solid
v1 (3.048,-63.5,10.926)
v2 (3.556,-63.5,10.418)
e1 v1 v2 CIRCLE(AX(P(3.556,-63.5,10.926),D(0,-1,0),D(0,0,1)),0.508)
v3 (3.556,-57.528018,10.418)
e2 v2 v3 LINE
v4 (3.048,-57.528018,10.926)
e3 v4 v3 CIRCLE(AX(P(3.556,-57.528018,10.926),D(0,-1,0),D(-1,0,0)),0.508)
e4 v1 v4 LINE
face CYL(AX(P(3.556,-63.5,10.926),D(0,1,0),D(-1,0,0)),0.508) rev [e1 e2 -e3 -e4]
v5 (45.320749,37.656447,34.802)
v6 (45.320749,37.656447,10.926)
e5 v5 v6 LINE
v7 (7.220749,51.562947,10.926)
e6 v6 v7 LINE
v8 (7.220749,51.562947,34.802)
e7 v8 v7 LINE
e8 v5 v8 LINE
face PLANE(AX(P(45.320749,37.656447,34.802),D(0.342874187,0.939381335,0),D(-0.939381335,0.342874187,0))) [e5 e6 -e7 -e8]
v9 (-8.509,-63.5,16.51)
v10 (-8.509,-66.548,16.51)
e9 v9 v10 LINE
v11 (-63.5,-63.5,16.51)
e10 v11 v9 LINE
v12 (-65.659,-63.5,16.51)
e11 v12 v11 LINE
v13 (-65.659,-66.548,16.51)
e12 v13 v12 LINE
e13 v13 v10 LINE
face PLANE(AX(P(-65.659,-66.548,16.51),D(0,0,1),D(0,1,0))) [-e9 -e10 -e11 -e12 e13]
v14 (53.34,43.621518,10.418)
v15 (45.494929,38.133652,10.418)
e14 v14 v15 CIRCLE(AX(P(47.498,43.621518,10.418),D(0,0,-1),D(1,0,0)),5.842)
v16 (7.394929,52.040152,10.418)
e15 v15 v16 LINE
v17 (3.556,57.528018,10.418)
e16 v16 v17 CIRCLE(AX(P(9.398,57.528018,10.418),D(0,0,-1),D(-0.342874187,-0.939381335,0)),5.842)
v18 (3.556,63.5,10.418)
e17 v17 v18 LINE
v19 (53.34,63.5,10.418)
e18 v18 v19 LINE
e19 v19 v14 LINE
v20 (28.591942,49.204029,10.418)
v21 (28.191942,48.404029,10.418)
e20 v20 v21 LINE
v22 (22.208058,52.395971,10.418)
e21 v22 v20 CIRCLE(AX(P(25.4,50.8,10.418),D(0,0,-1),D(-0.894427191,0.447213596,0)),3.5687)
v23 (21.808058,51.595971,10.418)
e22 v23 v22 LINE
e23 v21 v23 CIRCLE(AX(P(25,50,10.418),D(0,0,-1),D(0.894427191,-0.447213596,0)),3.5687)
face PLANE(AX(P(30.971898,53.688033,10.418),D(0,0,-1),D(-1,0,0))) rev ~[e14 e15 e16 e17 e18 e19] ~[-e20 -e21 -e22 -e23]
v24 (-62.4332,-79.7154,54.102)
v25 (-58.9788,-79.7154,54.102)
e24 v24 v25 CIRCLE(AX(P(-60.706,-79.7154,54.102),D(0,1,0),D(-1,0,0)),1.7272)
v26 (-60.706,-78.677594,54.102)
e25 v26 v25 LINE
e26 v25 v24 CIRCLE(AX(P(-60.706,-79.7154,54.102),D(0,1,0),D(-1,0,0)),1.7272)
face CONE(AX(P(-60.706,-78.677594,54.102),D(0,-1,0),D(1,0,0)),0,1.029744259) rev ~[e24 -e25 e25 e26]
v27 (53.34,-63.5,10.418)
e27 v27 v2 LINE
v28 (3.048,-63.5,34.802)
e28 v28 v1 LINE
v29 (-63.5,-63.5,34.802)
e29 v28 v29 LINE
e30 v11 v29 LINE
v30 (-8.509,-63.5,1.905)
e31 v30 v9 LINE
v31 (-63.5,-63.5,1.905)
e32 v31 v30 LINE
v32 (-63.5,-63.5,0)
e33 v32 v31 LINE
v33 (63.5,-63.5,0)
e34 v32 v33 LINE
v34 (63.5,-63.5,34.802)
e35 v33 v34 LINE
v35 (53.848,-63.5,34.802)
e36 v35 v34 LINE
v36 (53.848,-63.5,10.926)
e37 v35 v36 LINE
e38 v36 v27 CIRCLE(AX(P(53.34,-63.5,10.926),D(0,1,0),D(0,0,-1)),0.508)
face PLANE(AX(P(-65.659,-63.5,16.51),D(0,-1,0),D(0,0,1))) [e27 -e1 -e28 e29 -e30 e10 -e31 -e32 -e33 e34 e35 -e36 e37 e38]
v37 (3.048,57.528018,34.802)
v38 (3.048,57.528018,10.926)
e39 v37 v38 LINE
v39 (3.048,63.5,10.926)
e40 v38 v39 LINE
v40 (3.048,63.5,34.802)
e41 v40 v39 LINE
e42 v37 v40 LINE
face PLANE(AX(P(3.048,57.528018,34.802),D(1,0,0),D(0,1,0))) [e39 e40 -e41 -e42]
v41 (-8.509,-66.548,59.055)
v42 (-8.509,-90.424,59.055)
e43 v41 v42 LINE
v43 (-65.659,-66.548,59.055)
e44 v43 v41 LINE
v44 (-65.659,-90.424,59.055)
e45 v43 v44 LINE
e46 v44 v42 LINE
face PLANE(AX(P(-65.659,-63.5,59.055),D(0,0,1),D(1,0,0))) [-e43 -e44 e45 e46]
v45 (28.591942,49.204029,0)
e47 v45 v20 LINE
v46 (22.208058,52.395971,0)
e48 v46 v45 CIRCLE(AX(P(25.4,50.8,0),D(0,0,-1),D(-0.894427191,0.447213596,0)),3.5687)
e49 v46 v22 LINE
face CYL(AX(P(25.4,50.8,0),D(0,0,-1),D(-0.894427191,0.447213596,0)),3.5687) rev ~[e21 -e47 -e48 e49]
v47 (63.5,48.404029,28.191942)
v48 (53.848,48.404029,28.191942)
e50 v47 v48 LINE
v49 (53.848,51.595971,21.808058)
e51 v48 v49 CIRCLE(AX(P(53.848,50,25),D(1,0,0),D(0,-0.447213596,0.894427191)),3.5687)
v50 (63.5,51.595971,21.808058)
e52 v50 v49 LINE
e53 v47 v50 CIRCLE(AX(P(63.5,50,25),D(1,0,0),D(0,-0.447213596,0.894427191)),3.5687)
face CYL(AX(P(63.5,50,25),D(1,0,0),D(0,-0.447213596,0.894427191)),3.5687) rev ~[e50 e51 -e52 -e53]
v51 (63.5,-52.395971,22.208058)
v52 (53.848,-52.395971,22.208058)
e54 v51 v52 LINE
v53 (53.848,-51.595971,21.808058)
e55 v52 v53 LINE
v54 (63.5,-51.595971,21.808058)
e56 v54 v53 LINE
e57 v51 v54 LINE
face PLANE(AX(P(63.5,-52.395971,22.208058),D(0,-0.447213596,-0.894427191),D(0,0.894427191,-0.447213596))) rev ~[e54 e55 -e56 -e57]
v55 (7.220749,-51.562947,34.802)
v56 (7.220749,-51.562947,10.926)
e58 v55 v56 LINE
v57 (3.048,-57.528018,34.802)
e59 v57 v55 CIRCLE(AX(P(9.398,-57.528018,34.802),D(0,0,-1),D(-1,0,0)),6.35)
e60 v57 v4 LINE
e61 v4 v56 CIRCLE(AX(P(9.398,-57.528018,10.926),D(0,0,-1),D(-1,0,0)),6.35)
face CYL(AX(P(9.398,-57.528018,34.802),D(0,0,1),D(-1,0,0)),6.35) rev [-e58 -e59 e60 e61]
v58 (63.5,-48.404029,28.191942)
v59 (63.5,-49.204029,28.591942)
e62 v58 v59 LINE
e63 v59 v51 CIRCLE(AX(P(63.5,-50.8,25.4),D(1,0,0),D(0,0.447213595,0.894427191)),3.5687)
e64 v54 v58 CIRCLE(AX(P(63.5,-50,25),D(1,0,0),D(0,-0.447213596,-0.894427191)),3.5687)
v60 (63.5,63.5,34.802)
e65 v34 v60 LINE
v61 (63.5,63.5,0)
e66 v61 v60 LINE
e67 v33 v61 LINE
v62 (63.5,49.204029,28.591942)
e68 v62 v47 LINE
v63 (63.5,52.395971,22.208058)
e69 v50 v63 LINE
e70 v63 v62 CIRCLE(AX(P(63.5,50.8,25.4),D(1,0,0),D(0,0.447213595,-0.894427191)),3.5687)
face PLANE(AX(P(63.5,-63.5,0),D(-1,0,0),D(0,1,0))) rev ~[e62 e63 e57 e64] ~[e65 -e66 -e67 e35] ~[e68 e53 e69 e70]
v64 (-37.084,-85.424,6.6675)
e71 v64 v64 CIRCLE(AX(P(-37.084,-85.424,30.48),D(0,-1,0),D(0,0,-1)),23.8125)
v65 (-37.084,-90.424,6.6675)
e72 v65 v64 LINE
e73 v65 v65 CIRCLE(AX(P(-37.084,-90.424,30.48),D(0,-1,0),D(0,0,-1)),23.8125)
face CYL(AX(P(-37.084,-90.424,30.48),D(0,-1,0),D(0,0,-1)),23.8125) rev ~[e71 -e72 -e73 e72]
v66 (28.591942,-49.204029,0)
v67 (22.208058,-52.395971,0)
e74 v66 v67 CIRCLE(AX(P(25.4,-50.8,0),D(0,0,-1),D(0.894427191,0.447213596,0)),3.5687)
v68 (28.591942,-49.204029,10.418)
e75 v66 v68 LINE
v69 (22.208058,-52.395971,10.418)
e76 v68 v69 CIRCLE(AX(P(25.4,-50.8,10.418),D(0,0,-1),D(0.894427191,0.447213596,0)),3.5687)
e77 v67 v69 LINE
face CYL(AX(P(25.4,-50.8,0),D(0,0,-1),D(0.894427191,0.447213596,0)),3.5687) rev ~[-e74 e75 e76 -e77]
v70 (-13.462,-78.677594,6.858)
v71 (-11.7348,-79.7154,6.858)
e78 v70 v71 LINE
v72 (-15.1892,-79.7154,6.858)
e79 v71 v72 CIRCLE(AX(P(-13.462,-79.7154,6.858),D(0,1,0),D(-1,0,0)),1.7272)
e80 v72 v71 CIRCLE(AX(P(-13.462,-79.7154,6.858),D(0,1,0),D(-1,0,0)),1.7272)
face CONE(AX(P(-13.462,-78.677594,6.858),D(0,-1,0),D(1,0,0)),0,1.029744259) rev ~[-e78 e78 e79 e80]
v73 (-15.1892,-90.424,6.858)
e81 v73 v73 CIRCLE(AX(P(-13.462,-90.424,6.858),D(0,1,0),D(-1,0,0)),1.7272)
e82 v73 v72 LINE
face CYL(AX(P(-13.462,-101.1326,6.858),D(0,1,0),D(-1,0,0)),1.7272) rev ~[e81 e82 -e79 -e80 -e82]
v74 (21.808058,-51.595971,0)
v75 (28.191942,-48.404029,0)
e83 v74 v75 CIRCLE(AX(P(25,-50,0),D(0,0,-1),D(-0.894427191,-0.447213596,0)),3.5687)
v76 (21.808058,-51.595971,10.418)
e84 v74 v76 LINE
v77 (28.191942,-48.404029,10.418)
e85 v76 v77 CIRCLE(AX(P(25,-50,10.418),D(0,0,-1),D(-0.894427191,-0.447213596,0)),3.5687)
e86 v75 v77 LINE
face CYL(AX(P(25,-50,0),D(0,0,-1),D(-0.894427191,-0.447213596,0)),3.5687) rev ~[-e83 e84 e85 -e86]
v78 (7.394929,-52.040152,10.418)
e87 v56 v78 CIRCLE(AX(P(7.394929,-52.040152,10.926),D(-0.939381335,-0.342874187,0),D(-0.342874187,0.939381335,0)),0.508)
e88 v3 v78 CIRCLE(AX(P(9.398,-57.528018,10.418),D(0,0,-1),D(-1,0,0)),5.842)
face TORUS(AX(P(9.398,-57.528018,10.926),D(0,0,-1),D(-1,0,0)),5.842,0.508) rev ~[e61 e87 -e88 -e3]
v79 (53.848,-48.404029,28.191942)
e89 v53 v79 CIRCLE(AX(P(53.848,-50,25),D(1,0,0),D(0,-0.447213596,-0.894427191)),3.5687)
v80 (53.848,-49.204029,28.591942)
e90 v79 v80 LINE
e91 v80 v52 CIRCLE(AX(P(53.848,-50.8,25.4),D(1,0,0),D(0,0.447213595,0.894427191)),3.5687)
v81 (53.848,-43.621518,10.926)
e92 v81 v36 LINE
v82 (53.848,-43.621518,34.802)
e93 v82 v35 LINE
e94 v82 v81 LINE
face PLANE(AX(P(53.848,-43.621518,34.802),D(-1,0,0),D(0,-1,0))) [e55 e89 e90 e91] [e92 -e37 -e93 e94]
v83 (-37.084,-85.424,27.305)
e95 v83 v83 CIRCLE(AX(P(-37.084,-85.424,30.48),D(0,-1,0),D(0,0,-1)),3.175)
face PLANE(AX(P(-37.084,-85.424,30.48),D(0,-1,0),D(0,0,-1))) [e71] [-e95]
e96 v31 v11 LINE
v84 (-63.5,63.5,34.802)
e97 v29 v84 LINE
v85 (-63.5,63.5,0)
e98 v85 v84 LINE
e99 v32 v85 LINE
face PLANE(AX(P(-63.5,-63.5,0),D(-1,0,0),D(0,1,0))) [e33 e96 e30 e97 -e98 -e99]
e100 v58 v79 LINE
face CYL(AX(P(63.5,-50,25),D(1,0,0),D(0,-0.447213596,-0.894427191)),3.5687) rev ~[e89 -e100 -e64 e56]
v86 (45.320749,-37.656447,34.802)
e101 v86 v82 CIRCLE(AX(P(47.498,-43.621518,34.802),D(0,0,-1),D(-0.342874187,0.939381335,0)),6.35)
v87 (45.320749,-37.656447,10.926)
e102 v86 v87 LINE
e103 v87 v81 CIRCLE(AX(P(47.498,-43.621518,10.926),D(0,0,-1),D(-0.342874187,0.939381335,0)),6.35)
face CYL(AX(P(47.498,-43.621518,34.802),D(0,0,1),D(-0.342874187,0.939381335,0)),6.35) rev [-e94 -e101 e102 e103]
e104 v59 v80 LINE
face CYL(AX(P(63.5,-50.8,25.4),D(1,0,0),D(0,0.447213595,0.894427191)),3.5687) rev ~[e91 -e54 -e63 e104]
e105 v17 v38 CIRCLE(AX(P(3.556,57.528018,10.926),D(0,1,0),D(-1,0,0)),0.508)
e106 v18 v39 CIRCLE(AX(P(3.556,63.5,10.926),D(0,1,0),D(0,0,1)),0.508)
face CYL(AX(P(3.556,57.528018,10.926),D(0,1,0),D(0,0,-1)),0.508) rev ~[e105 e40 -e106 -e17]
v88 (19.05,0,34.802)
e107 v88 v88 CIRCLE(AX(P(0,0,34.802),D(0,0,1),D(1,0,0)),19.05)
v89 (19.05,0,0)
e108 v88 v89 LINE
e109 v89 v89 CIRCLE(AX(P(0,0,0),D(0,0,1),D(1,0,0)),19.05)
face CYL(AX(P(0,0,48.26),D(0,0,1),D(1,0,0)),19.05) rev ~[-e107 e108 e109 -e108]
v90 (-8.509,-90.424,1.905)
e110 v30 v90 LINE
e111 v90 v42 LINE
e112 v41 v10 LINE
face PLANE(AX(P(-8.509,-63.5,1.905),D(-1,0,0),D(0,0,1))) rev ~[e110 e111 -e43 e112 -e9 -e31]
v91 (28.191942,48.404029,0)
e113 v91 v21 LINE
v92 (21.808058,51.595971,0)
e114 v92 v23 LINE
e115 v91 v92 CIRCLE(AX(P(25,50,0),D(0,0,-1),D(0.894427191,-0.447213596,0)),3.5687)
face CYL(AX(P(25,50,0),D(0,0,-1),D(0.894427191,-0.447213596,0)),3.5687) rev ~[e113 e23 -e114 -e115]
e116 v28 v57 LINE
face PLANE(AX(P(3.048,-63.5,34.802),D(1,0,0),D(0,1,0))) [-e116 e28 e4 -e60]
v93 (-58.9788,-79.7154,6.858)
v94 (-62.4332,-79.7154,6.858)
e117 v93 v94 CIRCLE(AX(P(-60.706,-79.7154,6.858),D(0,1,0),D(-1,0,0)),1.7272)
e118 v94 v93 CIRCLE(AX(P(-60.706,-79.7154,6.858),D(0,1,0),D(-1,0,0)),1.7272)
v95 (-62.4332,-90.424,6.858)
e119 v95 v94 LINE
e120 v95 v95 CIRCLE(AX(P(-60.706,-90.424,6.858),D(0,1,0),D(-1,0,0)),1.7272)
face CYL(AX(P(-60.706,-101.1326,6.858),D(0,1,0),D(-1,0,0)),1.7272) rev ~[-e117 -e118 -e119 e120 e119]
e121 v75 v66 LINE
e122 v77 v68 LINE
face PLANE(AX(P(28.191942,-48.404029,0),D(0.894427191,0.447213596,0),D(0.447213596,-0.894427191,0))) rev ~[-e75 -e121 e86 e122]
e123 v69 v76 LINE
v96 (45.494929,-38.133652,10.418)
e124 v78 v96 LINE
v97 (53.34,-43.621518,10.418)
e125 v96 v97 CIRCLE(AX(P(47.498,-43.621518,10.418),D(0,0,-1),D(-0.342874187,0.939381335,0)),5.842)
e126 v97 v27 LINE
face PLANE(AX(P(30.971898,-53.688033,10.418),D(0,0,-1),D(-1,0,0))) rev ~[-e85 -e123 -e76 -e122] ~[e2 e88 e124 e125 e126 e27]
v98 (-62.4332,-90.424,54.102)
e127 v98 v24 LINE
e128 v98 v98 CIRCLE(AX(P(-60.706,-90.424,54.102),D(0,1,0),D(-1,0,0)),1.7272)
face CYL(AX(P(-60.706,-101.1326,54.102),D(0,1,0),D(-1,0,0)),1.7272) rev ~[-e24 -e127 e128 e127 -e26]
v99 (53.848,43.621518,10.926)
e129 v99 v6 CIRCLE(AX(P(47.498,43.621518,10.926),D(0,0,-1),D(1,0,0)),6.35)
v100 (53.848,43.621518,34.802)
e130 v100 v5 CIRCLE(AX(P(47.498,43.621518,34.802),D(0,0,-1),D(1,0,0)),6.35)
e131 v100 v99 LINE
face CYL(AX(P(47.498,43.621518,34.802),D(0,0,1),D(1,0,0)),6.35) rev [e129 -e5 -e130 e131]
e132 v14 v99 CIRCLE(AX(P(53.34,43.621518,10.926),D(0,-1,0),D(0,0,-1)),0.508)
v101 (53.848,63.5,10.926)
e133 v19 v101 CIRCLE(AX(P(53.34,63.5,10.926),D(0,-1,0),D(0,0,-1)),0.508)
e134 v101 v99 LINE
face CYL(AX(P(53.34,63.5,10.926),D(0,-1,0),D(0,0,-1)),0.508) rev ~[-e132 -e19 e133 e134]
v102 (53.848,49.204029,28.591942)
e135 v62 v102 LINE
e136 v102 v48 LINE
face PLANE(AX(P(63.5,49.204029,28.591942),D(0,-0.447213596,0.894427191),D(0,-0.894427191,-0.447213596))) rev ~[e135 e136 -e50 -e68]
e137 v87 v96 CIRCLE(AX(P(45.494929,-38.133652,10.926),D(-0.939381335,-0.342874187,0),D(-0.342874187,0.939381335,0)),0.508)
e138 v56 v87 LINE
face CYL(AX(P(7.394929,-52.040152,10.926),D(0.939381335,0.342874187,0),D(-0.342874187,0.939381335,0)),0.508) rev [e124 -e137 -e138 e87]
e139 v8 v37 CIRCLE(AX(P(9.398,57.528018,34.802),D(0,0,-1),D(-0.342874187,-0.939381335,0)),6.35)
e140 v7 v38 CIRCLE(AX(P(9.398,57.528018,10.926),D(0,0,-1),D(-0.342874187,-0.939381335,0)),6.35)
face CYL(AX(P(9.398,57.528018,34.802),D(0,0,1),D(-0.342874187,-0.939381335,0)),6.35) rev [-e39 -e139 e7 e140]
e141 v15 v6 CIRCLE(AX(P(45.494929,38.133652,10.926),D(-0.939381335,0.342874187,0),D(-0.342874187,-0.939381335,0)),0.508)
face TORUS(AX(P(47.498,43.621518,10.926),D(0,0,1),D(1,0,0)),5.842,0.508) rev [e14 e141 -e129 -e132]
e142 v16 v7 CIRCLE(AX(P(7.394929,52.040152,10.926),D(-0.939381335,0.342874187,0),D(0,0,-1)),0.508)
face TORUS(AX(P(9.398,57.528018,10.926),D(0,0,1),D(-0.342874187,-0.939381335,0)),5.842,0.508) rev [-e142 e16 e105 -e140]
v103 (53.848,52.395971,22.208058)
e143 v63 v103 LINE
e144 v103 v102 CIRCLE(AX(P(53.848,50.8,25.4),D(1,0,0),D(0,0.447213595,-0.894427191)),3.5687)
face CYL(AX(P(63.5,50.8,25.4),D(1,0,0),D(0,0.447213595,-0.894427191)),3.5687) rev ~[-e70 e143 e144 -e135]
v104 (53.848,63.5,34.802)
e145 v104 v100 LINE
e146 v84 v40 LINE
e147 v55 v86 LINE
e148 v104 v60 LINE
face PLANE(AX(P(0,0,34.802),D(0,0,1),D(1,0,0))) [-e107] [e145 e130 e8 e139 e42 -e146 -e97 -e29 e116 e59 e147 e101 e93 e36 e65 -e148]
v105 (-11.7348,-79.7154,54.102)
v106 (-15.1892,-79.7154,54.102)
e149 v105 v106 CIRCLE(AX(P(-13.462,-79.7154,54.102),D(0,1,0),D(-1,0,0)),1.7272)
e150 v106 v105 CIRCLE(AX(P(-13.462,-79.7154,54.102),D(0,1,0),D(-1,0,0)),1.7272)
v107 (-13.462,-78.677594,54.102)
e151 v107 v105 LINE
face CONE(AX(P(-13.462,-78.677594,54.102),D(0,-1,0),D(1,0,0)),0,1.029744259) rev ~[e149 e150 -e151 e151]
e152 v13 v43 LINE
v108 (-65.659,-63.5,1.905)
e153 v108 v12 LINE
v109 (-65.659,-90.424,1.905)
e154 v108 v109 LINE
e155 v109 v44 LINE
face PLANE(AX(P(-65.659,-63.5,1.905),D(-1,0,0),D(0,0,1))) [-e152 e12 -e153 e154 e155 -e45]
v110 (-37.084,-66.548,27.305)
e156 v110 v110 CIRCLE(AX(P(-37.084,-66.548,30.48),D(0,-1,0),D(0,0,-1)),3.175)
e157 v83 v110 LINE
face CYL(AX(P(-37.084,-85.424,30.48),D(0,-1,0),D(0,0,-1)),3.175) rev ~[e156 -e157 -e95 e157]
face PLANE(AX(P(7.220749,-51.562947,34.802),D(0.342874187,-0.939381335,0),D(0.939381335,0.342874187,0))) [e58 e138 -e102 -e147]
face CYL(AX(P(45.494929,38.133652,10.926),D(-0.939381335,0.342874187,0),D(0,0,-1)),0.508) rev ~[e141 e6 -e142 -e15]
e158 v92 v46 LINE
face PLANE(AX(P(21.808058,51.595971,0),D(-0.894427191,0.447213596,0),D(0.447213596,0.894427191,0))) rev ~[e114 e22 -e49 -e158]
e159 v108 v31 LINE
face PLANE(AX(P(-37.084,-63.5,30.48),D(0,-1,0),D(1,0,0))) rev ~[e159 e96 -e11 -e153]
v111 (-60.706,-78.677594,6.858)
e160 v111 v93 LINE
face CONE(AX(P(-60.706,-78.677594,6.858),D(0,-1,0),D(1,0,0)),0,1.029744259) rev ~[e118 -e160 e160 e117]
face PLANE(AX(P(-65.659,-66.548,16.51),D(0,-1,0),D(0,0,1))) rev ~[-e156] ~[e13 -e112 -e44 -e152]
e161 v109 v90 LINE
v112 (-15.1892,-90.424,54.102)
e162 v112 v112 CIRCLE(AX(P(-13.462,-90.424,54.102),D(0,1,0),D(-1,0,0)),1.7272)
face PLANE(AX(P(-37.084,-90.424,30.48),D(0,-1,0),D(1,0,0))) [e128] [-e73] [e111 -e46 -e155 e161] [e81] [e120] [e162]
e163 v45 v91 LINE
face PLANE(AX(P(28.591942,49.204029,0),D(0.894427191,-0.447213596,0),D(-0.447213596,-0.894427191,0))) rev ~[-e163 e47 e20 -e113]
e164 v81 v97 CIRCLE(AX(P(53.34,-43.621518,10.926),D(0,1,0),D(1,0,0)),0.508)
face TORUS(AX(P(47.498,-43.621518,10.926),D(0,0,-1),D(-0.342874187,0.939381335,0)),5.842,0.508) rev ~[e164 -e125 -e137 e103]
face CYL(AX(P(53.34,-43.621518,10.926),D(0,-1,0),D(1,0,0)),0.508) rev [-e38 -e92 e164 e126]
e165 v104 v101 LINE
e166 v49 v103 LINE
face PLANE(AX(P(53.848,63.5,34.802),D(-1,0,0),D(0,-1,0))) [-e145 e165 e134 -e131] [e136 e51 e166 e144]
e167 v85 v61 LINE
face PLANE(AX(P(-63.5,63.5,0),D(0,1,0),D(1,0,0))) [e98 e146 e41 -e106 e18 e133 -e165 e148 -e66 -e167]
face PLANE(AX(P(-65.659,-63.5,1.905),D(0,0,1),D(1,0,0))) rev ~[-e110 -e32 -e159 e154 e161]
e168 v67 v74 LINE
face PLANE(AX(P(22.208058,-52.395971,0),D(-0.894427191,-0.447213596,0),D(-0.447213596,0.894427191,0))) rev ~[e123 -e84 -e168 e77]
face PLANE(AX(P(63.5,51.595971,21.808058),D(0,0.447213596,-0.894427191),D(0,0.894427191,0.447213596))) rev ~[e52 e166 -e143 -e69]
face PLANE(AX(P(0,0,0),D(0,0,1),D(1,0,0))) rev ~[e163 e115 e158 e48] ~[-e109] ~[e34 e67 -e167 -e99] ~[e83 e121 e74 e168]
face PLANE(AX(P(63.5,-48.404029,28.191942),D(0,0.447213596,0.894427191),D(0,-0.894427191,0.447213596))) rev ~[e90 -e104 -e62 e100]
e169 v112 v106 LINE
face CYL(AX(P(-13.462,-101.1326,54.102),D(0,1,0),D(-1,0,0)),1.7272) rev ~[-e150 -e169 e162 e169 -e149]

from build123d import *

# Parameters (mm, degrees)
SKETCH2_W                        = 127
SKETCH2_H                        = 127
HOUSING_DEPTH                    = 39.5
SKETCH4_OUTSIDE_W                = 165.78
SKETCH4_OUTSIDE_H                = 165.78
SKETCH4_OUTSIDE_R                = 45.974
CUT_EXTRUDE2_DEPTH               = 4.698
MOUNTING_POCKETS_DEPTH           = 24.384
ENG_METRIC_SLOT_VERTICAL_REACH   = 160.723
ENG_METRIC_SLOT_HORIZONTAL_DEPTH = 199.381065075
FILLET3_R                        = 0.508
SKETCH213_W                      = 57.15
SKETCH213_H                      = 57.15
EXTRUDE1_DEPTH                   = 26.924
SKETCH214_R                      = 23.8125
CUT_EXTRUDE3_DEPTH               = 5
SKETCH215_R                      = 3.175
CUT_EXTRUDE4_DEPTH               = 21.924
CUT_EXTRUDE5_REACH               = 170.363
SKETCH216_W                      = 42.545
SKETCH216_H                      = 3.048
F_8_32_TAPPED_HOLE1_D            = 3.4544
F_8_32_TAPPED_HOLE1_DEPTH        = 10.7086
F_8_32_TAPPED_HOLE1_TIP          = 1.037806461
SKETCH241_R                      = 45.974
CUT_EXTRUDE7_DEPTH               = 4.698
SKETCH3_R                        = 19.05
CUT_EXTRUDE8_DEPTH               = 122.723587102


with BuildPart() as part:
    # Sketch2 → HOUSING (new body)
    with BuildSketch(Plane.XY):
        Rectangle(SKETCH2_W, SKETCH2_H)
    extrude(amount=HOUSING_DEPTH)

    # Sketch4 outside → Cut-Extrude2 (cut)
    with BuildSketch(Plane.XY.offset(39.5)):
        Rectangle(SKETCH4_OUTSIDE_W, SKETCH4_OUTSIDE_H)
        Circle(SKETCH4_OUTSIDE_R, mode=Mode.SUBTRACT)
    extrude(amount=-CUT_EXTRUDE2_DEPTH, mode=Mode.SUBTRACT)

    # Sketch8 → MOUNTING POCKETS (cut)
    with BuildSketch(Plane.XY.offset(34.802)):
        with BuildLine():
            Line((3.048, -63.5), (3.048, -57.528018122))
            ThreePointArc((3.048, -57.528018122), (4.194729662, -53.888172274), (7.220748912, -51.562946647))
            Line((7.220748912, -51.562946647), (45.320748912, -37.656446647))
            ThreePointArc((45.320748912, -37.656446647), (51.137845848, -38.418247784), (53.848, -43.621518122))
            Line((53.848, -43.621518122), (53.848, -63.5))
            Line((53.848, -63.5), (3.048, -63.5))
        make_face()
        with BuildLine():
            Line((3.048, 63.5), (53.848, 63.5))
            Line((53.848, 63.5), (53.848, 43.621518122))
            ThreePointArc((53.848, 43.621518122), (51.137845848, 38.418247784), (45.320748912, 37.656446647))
            Line((45.320748912, 37.656446647), (7.220748912, 51.562946647))
            ThreePointArc((7.220748912, 51.562946647), (4.194729662, 53.888172274), (3.048, 57.528018122))
            Line((3.048, 57.528018122), (3.048, 63.5))
        make_face()
    extrude(amount=-MOUNTING_POCKETS_DEPTH, mode=Mode.SUBTRACT)

    # Sketch21 → ENG_METRIC SLOT VERTICAL (cut, up to next)
    with BuildSketch(Plane(origin=(63.5, -23.646142673, 1.166551585), x_dir=(0, 0, -1), z_dir=(1, 0, 0)), mode=Mode.PRIVATE) as eng_metric_slot_vertical_sk1:
        with BuildLine():
            Line((-20.641506099, 75.242113831), (-21.041506099, 76.042113831))
            ThreePointArc((-21.041506099, 76.042113831), (-25.829419573, 77.63808499), (-27.425390732, 72.850171515))
            Line((-27.425390732, 72.850171515), (-27.025390732, 72.050171515))
            ThreePointArc((-27.025390732, 72.050171515), (-22.237477257, 70.454200357), (-20.641506099, 75.242113831))
        make_face()
    eng_metric_slot_vertical_tool1 = extrude(eng_metric_slot_vertical_sk1.sketch, amount=-ENG_METRIC_SLOT_VERTICAL_REACH, mode=Mode.PRIVATE) & part.part
    # Sketch21 → ENG_METRIC SLOT VERTICAL (cut, up to next)
    with BuildSketch(Plane(origin=(63.5, -23.646142673, 1.166551585), x_dir=(0, 0, -1), z_dir=(1, 0, 0)), mode=Mode.PRIVATE) as eng_metric_slot_vertical_sk2:
        with BuildLine():
            Line((-27.025390732, -24.757886169), (-27.425390732, -25.557886169))
            ThreePointArc((-27.425390732, -25.557886169), (-25.829419573, -30.345799643), (-21.041506099, -28.749828485))
            Line((-21.041506099, -28.749828485), (-20.641506099, -27.949828485))
            ThreePointArc((-20.641506099, -27.949828485), (-22.237477257, -23.16191501), (-27.025390732, -24.757886169))
        make_face()
    eng_metric_slot_vertical_tool2 = extrude(eng_metric_slot_vertical_sk2.sketch, amount=-ENG_METRIC_SLOT_VERTICAL_REACH, mode=Mode.PRIVATE) & part.part
    add(eng_metric_slot_vertical_tool1.solids().sort_by_distance((63.5, 50.4, 25.2))[0], mode=Mode.SUBTRACT)
    add(eng_metric_slot_vertical_tool2.solids().sort_by_distance((63.5, -50.4, 25.2))[0], mode=Mode.SUBTRACT)

    # Sketch212 → ENG_METRIC SLOT HORIZONTAL (cut, through all)
    with BuildSketch(Plane(origin=(34.062086582, -104.655987826, 0), x_dir=(-1, 0, 0), z_dir=(0, 0, -1))):
        with BuildLine():
            Line((12.254028899, 156.251958985), (11.854028899, 157.051958985))
            ThreePointArc((11.854028899, 157.051958985), (7.066115424, 158.647930143), (5.470144266, 153.860016668))
            Line((5.470144266, 153.860016668), (5.870144266, 153.060016668))
            ThreePointArc((5.870144266, 153.060016668), (10.658057741, 151.46404551), (12.254028899, 156.251958985))
        make_face()
        with BuildLine():
            Line((5.870144266, 56.251958985), (5.470144266, 55.451958985))
            ThreePointArc((5.470144266, 55.451958985), (7.066115424, 50.66404551), (11.854028899, 52.260016668))
            Line((11.854028899, 52.260016668), (12.254028899, 53.060016668))
            ThreePointArc((12.254028899, 53.060016668), (10.658057741, 57.847930143), (5.870144266, 56.251958985))
        make_face()
    extrude(amount=-ENG_METRIC_SLOT_HORIZONTAL_DEPTH, mode=Mode.SUBTRACT)

    # Fillet3
    fillet3_edges = [part.edges().sort_by_distance(p)[0] for p in [
        (3.048, -60.514009061, 10.418),
        (4.194729662, -53.888172274, 10.418),
        (26.270748912, -44.609696647, 10.418),
        (51.137845848, -38.418247784, 10.418),
        (53.848, -53.560759061, 10.418),
        (51.137845848, 38.418247784, 10.418),
        (26.270748912, 44.609696647, 10.418),
        (4.194729662, 53.888172274, 10.418),
        (3.048, 60.514009061, 10.418),
        (53.848, 53.560759061, 10.418),
    ]]
    fillet(fillet3_edges, radius=FILLET3_R)

    # Sketch213 → Extrude1 (add)
    with BuildSketch(Plane.XZ.offset(63.5)):
        with Locations((-37.084, 30.48)):
            Rectangle(SKETCH213_W, SKETCH213_H)
    extrude(amount=EXTRUDE1_DEPTH)

    # Sketch214 → Cut-Extrude3 (cut)
    with BuildSketch(Plane.XZ.offset(90.424)):
        with Locations(Location((-37.084, 30.48, 0), (0, 0, 270))):
            Circle(SKETCH214_R)
    extrude(amount=-CUT_EXTRUDE3_DEPTH, mode=Mode.SUBTRACT)

    # Sketch215 → Cut-Extrude4 (cut)
    with BuildSketch(Plane.XZ.offset(85.424)):
        with Locations(Location((-37.084, 30.48, 0), (0, 0, 270))):
            Circle(SKETCH215_R)
    extrude(amount=-CUT_EXTRUDE4_DEPTH, mode=Mode.SUBTRACT)

    # Sketch216 → Cut-Extrude5 (cut, up to next)
    with BuildSketch(Plane.ZY.offset(65.659), mode=Mode.PRIVATE) as cut_extrude5_sk1:
        with Locations((37.7825, -65.024)):
            Rectangle(SKETCH216_W, SKETCH216_H)
    cut_extrude5_tool1 = extrude(cut_extrude5_sk1.sketch, amount=-CUT_EXTRUDE5_REACH, mode=Mode.PRIVATE) & part.part
    add(cut_extrude5_tool1.solids().sort_by_distance((-65.659, -65.024, 37.7825))[0], mode=Mode.SUBTRACT)

    # #8-32 Tapped Hole1
    with Locations(Plane.XZ.offset(90.424)):
        with Locations((-60.706, 6.858), (-60.706, 54.102), (-13.462, 54.102), (-13.462, 6.858)):
            Hole(F_8_32_TAPPED_HOLE1_D / 2, depth=F_8_32_TAPPED_HOLE1_DEPTH)
            with Locations((0, 0, -(F_8_32_TAPPED_HOLE1_DEPTH + F_8_32_TAPPED_HOLE1_TIP / 2))):  # 118° drill point
                Cone(0, F_8_32_TAPPED_HOLE1_D / 2, F_8_32_TAPPED_HOLE1_TIP, mode=Mode.SUBTRACT)

    # Sketch241 → Cut-Extrude7 (cut)
    with BuildSketch(Plane.XY.offset(39.5)):
        Circle(SKETCH241_R)
    extrude(amount=-CUT_EXTRUDE7_DEPTH, mode=Mode.SUBTRACT)

    # Sketch3 → Cut-Extrude8 (cut, through all)
    with BuildSketch(Plane.XY.offset(48.26)):
        Circle(SKETCH3_R)
    extrude(amount=-CUT_EXTRUDE8_DEPTH, mode=Mode.SUBTRACT)


solid = part.part
